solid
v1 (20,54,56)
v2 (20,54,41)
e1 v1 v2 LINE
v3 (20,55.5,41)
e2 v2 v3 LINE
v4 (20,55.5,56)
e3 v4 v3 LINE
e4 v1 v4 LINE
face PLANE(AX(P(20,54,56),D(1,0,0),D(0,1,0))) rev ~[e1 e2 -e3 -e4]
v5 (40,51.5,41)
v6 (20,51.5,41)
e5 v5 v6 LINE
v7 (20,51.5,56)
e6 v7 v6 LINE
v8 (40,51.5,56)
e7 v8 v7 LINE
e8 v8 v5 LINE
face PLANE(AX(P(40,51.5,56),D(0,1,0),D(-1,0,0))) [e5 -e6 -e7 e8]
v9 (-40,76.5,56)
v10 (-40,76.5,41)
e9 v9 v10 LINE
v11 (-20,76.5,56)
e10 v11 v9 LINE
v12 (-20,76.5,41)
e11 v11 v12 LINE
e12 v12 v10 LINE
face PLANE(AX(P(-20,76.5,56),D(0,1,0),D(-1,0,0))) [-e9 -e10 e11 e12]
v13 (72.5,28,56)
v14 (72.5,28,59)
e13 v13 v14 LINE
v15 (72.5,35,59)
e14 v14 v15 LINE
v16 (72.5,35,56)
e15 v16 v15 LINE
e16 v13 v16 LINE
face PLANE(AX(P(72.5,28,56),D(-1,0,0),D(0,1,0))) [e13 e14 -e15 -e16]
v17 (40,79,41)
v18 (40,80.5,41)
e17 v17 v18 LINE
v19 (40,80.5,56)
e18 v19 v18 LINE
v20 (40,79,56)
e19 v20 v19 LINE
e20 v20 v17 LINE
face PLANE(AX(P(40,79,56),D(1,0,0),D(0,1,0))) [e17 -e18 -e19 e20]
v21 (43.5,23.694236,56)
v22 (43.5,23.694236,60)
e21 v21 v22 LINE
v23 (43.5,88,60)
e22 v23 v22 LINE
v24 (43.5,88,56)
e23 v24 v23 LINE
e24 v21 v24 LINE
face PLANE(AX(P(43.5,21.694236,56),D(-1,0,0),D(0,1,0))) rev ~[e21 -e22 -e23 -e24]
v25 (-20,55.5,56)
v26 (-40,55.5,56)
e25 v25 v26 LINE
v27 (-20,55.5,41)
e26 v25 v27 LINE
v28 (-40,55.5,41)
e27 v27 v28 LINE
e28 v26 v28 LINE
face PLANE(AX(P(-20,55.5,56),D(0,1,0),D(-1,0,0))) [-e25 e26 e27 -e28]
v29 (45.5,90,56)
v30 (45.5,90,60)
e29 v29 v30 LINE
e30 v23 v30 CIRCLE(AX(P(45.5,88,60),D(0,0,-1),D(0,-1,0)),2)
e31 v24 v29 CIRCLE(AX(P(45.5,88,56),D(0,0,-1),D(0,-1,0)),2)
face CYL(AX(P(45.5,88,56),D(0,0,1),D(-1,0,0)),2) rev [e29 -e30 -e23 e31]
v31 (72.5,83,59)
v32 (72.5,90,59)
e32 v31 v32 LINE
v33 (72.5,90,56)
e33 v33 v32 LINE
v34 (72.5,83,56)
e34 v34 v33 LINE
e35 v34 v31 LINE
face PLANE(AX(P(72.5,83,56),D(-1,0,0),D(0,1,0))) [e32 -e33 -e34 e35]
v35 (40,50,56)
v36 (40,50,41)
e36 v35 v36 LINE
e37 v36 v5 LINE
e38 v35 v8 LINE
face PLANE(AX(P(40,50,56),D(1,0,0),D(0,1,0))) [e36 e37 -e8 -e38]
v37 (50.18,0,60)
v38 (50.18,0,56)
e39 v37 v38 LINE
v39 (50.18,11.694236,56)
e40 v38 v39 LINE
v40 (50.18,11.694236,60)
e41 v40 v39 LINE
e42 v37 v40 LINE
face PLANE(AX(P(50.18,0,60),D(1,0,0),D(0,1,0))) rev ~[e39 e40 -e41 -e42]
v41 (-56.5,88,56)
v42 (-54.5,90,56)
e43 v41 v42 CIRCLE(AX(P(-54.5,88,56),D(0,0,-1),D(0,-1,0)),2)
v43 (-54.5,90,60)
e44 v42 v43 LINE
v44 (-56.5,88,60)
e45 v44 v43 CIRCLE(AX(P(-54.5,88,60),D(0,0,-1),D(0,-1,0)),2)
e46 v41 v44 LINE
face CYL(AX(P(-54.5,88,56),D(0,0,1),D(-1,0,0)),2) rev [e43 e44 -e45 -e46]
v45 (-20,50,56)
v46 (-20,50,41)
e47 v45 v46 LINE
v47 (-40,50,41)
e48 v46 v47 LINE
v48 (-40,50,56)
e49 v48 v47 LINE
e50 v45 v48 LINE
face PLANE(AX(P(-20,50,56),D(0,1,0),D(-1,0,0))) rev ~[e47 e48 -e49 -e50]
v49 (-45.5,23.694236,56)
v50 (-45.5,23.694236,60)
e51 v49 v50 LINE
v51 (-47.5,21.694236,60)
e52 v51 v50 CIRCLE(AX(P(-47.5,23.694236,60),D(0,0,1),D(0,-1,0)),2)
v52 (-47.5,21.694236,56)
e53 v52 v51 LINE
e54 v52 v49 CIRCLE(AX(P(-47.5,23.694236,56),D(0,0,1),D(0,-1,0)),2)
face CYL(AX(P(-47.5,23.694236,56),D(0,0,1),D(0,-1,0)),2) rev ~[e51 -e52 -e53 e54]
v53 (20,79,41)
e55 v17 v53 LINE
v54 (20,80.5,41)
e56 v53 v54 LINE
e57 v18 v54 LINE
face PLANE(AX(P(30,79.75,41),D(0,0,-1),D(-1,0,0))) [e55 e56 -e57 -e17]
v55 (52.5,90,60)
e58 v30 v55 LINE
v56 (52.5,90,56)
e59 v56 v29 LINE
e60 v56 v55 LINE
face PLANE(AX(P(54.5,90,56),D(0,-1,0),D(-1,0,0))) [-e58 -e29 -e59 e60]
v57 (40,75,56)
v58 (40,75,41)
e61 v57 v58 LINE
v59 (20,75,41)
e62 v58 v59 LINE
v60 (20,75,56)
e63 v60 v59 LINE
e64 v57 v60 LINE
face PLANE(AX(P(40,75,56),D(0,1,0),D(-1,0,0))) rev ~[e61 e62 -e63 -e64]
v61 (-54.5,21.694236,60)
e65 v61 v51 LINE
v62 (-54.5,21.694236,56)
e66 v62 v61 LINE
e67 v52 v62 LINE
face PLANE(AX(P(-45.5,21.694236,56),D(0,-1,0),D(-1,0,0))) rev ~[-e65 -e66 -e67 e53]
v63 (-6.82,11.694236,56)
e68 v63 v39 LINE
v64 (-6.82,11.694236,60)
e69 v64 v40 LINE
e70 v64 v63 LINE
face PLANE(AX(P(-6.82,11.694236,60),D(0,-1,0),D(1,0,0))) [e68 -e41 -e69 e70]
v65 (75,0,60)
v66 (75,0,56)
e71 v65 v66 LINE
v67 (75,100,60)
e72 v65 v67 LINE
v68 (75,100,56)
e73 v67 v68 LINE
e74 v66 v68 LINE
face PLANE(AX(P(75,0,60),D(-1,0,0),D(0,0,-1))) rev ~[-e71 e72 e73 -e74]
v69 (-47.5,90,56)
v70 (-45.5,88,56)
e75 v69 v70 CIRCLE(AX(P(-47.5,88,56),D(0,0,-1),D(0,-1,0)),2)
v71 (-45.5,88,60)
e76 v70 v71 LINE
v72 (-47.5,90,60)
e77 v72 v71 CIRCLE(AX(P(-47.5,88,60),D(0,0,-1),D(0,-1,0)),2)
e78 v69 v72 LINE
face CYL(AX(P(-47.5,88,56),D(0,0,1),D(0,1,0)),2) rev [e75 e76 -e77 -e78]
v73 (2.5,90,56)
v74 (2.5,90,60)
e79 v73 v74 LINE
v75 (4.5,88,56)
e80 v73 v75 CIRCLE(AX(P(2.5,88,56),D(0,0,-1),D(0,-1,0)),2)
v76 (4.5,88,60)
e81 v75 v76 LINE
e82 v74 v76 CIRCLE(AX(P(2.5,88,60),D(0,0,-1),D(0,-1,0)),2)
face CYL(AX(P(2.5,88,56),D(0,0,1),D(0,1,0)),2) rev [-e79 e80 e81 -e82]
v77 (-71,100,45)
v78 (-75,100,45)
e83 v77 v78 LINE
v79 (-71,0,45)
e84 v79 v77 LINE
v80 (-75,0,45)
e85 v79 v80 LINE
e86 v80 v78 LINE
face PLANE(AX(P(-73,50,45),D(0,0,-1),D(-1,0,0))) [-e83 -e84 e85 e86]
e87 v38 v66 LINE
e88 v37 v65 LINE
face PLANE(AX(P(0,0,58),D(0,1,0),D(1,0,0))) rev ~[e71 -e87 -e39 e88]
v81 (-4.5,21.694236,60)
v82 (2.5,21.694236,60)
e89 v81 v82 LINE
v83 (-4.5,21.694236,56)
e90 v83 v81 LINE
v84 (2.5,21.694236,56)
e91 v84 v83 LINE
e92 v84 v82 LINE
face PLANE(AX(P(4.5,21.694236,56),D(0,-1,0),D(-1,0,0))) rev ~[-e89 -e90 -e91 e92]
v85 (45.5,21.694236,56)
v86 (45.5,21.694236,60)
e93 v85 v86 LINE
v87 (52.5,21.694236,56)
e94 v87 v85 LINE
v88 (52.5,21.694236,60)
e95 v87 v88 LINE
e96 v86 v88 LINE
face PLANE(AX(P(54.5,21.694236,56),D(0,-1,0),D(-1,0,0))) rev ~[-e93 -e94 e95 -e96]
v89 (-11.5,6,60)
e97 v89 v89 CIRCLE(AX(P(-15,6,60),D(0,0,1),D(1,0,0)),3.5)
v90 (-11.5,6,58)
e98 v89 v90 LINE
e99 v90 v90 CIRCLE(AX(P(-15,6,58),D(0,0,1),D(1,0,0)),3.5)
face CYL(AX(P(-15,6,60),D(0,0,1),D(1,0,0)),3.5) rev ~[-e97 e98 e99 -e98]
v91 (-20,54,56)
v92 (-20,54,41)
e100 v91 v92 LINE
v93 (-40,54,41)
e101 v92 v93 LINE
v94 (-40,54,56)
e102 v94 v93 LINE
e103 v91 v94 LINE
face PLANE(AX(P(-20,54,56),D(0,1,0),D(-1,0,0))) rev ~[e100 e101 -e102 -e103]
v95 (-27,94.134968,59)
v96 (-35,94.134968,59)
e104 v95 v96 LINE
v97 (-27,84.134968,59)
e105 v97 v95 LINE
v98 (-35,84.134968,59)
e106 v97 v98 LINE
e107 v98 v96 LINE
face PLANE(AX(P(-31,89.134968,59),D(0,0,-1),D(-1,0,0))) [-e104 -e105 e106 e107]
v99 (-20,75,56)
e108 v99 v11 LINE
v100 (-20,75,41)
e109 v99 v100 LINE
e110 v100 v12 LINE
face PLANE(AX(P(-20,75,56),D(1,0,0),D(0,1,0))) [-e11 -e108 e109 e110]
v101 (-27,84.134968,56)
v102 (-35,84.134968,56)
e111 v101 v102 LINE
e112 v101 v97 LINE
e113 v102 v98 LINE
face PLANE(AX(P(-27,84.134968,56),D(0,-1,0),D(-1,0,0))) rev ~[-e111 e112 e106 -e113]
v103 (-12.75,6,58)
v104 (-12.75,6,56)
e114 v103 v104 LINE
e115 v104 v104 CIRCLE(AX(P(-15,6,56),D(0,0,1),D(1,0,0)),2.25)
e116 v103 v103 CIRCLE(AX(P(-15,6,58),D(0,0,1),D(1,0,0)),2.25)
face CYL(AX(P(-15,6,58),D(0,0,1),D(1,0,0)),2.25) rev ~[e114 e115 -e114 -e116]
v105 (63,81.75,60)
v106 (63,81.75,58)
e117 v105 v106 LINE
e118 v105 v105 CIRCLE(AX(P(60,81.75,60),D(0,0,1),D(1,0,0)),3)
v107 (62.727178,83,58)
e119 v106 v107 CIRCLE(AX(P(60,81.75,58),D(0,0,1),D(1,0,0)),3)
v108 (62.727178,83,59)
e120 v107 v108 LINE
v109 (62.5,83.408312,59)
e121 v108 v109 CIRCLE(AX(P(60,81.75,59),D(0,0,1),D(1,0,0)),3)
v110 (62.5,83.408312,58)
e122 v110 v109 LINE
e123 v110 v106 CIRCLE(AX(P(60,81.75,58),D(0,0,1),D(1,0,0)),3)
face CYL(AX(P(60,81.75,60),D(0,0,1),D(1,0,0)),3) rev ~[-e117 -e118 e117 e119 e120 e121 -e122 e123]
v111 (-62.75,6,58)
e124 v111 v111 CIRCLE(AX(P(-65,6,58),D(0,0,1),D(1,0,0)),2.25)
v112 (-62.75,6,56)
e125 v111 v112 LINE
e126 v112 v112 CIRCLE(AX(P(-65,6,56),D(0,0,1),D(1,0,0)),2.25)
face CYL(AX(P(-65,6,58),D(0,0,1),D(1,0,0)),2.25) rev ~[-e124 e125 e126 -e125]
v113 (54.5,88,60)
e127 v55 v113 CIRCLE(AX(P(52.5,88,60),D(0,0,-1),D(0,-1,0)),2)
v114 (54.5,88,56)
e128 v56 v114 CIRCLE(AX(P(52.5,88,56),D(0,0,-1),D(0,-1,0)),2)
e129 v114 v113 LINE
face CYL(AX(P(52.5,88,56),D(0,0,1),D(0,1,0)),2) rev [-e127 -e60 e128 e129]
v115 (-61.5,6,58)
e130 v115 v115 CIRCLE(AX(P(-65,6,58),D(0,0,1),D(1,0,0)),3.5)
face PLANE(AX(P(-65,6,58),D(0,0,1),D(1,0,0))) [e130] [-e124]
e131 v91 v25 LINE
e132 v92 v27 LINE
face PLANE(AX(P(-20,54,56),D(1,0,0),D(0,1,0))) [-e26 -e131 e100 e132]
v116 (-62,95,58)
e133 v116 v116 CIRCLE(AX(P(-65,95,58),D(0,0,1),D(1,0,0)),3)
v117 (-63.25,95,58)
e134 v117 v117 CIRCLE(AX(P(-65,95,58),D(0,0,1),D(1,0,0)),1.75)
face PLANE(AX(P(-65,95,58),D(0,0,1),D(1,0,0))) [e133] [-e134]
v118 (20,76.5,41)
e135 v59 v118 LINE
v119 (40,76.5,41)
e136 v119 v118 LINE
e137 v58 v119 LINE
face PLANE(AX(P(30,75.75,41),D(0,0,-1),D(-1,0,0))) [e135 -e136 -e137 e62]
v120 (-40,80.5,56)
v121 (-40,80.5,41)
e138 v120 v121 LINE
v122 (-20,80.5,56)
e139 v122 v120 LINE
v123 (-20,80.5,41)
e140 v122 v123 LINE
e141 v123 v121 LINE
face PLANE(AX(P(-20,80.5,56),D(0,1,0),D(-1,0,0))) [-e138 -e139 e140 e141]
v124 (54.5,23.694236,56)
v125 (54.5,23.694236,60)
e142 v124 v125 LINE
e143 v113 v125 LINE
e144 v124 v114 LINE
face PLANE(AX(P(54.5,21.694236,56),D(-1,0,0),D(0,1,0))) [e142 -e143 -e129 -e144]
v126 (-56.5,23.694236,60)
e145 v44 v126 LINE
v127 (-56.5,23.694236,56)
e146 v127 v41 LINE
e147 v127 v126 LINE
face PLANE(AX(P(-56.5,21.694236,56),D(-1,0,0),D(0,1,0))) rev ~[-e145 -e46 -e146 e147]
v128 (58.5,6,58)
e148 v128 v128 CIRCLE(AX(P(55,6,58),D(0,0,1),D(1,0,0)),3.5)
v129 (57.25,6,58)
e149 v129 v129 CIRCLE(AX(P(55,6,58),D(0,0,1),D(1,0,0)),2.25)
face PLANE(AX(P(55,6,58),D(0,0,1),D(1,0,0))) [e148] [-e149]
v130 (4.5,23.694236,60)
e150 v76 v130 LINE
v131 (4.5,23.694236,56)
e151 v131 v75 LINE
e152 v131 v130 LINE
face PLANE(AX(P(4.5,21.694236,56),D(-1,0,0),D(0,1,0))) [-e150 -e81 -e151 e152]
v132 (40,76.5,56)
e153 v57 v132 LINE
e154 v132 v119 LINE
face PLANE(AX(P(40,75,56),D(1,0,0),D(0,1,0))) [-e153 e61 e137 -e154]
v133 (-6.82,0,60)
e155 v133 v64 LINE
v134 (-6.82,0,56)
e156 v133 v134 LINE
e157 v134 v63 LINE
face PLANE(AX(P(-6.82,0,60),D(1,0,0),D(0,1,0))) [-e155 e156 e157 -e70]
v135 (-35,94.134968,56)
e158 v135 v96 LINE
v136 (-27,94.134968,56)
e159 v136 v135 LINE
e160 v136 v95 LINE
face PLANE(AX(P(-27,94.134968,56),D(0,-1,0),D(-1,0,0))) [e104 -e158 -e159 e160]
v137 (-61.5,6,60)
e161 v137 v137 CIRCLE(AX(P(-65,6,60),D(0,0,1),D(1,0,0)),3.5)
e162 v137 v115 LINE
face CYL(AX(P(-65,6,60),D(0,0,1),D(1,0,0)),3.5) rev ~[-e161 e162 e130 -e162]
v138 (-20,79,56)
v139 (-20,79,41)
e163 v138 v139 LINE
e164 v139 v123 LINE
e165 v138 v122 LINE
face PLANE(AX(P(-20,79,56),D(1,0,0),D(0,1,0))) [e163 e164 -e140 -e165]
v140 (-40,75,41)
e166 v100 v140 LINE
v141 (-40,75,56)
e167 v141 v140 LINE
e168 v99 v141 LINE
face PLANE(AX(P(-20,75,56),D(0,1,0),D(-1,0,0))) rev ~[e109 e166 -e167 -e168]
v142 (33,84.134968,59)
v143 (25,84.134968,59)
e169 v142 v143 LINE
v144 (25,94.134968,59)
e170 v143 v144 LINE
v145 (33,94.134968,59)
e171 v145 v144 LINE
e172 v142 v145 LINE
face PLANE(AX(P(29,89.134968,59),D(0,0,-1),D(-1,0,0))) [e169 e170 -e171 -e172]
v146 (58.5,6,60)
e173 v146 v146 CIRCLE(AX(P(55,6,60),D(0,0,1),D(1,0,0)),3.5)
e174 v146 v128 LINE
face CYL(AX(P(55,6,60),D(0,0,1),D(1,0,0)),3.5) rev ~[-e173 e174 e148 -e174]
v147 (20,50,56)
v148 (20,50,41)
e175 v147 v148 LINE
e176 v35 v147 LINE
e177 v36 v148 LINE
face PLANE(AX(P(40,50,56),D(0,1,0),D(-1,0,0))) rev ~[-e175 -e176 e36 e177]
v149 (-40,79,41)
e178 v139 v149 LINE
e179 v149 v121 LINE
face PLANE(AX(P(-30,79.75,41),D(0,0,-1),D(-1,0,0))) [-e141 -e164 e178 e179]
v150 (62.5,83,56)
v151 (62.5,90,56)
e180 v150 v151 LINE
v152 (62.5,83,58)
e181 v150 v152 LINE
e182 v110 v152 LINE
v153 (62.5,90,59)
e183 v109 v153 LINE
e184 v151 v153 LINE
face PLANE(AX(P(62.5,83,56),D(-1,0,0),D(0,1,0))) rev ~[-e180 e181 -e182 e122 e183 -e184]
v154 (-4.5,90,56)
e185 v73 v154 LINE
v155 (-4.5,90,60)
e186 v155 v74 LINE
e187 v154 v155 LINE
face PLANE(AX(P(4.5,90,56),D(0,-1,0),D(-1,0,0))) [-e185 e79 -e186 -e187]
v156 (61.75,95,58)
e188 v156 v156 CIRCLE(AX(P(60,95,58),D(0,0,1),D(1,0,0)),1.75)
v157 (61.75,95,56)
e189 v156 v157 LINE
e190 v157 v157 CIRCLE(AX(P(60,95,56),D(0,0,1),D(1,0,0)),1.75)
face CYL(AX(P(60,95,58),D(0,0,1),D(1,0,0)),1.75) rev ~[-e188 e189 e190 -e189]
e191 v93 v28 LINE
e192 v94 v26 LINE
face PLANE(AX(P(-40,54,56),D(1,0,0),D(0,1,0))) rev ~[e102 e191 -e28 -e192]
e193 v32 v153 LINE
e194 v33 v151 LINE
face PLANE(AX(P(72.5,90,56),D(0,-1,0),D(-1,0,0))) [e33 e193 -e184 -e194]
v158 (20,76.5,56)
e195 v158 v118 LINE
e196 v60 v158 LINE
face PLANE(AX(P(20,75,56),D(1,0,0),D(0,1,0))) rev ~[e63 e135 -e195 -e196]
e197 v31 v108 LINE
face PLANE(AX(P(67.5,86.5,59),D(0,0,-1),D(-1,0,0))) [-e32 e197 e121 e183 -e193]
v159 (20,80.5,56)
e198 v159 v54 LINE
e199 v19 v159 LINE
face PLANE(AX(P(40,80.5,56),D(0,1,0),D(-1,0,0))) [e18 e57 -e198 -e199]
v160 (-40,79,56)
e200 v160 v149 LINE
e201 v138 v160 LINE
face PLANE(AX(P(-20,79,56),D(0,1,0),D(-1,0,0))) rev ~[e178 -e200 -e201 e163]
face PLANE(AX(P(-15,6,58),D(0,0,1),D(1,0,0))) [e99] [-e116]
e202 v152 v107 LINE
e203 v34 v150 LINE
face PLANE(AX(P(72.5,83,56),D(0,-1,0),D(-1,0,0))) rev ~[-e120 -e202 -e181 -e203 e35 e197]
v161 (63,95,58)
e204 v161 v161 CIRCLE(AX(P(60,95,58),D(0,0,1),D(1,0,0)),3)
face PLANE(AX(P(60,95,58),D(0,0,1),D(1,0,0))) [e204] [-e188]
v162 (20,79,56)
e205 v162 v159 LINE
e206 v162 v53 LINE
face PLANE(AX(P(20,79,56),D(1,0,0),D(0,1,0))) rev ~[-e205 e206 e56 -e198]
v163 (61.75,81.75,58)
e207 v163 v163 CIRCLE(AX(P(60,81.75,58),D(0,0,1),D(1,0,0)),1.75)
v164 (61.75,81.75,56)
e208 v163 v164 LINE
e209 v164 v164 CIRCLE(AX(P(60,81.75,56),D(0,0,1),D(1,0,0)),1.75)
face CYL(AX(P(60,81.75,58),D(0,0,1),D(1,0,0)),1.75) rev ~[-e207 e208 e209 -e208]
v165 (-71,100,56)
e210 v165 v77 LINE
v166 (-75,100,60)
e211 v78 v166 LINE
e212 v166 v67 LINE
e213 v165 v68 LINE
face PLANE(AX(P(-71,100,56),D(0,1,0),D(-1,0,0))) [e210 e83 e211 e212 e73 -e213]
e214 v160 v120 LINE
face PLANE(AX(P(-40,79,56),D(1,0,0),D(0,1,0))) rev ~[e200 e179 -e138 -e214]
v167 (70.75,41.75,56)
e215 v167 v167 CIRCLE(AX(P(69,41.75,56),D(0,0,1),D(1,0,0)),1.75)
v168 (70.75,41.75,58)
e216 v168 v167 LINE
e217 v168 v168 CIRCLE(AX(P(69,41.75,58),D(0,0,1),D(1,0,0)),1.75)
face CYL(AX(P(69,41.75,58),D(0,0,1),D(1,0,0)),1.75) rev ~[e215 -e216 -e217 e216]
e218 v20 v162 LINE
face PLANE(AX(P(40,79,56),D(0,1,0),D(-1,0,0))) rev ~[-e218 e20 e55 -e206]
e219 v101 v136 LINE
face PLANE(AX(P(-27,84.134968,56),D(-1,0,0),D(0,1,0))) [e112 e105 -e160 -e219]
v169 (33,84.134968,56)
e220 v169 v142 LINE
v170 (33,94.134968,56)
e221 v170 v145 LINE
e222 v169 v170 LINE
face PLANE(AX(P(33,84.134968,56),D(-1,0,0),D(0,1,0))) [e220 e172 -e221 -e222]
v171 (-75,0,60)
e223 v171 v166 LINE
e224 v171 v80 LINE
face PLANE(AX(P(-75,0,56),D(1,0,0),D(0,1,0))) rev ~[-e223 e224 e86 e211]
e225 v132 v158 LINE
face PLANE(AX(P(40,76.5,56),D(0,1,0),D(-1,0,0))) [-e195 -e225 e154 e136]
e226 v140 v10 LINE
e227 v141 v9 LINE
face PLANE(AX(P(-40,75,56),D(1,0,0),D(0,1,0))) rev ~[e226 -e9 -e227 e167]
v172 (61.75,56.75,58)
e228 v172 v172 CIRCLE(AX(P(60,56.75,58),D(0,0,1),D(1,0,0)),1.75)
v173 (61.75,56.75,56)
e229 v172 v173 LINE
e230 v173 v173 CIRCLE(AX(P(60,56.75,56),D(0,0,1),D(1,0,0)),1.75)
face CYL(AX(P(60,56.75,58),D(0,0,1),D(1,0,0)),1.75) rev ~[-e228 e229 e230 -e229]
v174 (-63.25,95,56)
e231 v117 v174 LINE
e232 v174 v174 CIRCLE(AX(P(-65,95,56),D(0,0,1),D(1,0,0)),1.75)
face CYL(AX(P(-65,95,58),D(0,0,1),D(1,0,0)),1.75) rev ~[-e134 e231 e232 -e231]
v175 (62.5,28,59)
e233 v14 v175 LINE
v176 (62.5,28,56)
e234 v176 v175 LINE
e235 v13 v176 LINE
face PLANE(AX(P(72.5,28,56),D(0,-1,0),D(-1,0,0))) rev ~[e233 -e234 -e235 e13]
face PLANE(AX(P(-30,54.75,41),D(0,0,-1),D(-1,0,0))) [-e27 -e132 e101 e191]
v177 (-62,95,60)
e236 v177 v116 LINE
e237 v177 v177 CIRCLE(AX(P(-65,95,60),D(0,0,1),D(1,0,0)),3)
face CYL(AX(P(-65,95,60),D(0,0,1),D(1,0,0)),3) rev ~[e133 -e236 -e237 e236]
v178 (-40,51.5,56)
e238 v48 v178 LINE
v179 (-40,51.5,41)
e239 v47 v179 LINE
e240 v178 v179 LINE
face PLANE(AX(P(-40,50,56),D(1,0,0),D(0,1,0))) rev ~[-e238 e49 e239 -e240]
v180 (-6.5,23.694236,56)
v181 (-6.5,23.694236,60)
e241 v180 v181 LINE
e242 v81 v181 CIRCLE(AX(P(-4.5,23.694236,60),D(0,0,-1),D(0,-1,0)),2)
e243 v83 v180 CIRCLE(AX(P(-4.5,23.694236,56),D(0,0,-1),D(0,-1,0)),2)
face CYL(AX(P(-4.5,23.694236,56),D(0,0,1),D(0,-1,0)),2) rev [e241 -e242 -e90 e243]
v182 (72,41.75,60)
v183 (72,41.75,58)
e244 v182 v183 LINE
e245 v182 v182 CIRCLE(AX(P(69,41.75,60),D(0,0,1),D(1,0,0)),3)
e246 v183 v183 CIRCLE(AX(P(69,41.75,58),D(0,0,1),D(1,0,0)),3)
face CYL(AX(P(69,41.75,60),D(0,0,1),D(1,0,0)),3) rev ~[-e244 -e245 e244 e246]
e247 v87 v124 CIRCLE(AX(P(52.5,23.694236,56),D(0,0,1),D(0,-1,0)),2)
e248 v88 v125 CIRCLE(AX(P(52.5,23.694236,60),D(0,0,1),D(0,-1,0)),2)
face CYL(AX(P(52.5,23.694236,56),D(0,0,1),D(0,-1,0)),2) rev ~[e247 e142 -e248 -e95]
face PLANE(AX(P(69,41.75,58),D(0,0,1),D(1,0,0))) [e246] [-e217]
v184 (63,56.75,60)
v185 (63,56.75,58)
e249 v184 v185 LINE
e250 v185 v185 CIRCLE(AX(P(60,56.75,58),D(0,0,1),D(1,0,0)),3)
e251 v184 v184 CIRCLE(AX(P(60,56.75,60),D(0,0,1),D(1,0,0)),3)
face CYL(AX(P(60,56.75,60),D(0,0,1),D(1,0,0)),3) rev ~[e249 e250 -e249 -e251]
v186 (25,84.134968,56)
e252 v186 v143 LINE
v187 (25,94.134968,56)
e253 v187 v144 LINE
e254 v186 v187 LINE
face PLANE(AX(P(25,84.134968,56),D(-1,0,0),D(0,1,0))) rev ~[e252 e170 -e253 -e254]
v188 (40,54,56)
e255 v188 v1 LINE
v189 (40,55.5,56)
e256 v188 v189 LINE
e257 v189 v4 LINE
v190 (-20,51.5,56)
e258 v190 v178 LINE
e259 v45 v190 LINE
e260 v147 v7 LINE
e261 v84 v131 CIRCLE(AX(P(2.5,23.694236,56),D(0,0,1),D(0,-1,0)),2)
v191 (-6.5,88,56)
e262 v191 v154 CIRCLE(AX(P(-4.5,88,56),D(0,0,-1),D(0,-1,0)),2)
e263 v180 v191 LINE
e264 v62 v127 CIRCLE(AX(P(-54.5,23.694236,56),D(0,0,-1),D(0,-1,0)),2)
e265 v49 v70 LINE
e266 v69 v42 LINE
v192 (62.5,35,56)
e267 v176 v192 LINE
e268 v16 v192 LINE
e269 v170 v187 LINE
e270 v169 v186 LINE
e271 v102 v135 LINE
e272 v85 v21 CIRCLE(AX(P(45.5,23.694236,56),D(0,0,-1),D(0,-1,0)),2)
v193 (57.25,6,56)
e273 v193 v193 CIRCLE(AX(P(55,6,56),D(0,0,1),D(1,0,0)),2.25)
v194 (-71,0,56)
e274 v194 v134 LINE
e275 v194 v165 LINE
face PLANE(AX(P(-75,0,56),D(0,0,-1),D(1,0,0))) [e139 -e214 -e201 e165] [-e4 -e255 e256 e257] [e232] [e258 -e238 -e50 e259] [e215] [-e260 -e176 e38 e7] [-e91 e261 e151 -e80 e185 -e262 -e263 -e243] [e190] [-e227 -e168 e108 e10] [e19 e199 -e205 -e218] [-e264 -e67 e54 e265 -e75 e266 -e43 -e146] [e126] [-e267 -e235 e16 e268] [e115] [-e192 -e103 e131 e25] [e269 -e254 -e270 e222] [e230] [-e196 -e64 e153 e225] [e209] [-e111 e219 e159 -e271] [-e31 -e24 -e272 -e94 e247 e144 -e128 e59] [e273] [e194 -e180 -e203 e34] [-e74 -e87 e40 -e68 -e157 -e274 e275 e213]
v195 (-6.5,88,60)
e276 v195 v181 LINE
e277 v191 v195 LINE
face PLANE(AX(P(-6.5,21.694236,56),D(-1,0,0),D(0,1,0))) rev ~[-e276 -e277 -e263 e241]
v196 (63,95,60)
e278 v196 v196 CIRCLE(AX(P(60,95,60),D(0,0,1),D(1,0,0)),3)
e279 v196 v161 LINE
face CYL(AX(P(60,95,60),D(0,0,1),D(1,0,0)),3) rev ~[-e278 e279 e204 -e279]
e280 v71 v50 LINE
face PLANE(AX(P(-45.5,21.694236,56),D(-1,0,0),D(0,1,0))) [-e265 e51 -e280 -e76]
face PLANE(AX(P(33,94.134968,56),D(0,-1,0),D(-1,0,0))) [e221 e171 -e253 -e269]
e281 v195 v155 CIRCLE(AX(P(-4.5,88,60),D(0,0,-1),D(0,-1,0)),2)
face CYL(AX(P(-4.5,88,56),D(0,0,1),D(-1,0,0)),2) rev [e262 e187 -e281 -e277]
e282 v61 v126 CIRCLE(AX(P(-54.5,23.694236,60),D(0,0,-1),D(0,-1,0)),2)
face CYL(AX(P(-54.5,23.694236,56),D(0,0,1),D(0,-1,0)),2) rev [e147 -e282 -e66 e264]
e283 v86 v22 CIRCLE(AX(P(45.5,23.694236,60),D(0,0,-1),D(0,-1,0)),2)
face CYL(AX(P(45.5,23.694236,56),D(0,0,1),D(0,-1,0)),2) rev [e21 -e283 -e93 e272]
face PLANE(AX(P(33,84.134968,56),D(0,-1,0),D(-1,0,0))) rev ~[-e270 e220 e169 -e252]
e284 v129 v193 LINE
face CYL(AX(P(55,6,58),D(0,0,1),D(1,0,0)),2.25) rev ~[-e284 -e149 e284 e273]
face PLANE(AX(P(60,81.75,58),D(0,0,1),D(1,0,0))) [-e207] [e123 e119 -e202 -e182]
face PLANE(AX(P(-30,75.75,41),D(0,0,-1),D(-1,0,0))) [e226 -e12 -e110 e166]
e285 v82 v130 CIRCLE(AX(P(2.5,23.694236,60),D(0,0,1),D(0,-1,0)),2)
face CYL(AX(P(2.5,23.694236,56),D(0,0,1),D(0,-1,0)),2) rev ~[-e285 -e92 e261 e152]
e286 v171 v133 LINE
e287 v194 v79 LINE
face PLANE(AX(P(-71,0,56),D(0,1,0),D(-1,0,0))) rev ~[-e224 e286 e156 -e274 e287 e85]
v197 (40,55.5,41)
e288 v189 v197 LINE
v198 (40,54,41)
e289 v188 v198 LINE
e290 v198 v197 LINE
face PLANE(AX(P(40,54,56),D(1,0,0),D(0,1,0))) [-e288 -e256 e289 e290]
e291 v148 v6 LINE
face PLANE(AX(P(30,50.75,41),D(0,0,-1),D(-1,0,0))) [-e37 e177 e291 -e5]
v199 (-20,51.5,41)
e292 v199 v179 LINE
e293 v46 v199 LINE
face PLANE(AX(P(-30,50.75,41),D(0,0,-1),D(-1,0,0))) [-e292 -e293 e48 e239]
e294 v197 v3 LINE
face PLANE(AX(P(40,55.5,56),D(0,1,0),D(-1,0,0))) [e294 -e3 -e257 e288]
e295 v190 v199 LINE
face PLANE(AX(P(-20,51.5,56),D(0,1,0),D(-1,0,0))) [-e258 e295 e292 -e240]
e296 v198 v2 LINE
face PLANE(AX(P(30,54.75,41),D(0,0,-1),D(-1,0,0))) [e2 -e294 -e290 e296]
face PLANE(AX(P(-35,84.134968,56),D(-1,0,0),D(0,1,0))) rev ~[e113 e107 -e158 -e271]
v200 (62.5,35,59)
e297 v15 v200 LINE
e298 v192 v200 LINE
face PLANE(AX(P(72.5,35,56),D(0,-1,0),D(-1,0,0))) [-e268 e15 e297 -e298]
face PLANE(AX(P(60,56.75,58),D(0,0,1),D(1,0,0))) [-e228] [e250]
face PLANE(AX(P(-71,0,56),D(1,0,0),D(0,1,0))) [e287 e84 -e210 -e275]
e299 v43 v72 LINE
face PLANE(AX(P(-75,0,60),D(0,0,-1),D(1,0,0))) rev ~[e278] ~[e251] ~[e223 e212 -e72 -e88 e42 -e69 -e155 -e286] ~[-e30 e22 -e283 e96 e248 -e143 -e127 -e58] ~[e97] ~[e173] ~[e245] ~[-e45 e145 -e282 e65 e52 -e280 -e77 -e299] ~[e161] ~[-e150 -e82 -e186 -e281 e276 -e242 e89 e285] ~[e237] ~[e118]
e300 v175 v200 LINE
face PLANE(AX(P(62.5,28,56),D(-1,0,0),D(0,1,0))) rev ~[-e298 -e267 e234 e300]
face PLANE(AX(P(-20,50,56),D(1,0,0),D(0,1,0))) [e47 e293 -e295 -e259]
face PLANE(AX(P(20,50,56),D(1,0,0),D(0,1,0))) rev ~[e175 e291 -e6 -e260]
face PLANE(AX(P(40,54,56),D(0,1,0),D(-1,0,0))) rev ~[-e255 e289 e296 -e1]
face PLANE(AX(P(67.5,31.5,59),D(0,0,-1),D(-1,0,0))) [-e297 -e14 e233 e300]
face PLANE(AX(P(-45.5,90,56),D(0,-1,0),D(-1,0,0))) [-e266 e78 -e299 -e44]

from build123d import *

# Parameters (mm, degrees)
SKETCH1_W                 = 150
SKETCH1_H                 = 4
BOSS_EXTRUDE1_DEPTH       = 100
CUT_EXTRUDE1_REACH        = 127.064
SKETCH7_W                 = 57
SKETCH7_H                 = 11.694235649
SKETCH9_W                 = 4
SKETCH9_H                 = 100
BOSS_EXTRUDE4_DEPTH       = 11
SKETCH10_W                = 20
SKETCH10_H                = 1.5
BOSS_EXTRUDE5_DEPTH       = 15
LPATTERN1_COUNT           = 2
LPATTERN1_PITCH           = 60
LPATTERN2_COUNT           = 2
LPATTERN2_PITCH           = 25
LPATTERN2_COPY_1_SKETCH_W = 20
LPATTERN2_COPY_1_SKETCH_H = 1.5
LPATTERN2_COPY_1_DEPTH    = 15
LPATTERN3_COUNT           = 2
LPATTERN3_PITCH           = 4
LPATTERN3_COPY_1_SKETCH_W = 20
LPATTERN3_COPY_1_SKETCH_H = 1.5
LPATTERN3_COPY_1_DEPTH    = 15
LPATTERN3_COPY_2_SKETCH_W = 20
LPATTERN3_COPY_2_SKETCH_H = 1.5
LPATTERN3_COPY_2_DEPTH    = 15
LPATTERN3_COPY_3_SKETCH_W = 20
LPATTERN3_COPY_3_SKETCH_H = 1.5
LPATTERN3_COPY_3_DEPTH    = 15
SKETCH12_R                = 3.5
CUT_EXTRUDE2_DEPTH        = 2
CUT_EXTRUDE3_REACH        = 128.151
SKETCH13_R                = 2.25
LPATTERN4_COUNT           = 2
LPATTERN4_PITCH           = 50
SKETCH15_R                = 3
CUT_EXTRUDE4_DEPTH        = 2
CUT_EXTRUDE5_REACH        = 219.319
SKETCH17_R                = 1.75
LPATTERN5_COUNT           = 2
LPATTERN5_PITCH           = 25
SKETCH18_W                = 10
SKETCH18_H                = 7
CUT_EXTRUDE6_DEPTH        = 3
LPATTERN6_COUNT           = 2
LPATTERN6_PITCH           = 55
CUT_EXTRUDE7_REACH        = 127.897
SKETCH19_W                = 11
SKETCH19_H                = 68.305764351
FILLET1_R                 = 2
LPATTERN7_COUNT           = 3
LPATTERN7_PITCH           = 50
FILLET1_OF_LPATTERN7_R    = 2
LPATTERN8_COUNT           = 2
LPATTERN8_PITCH           = 120
SKETCH20_W                = 8
SKETCH20_H                = 10
CUT_EXTRUDE8_DEPTH        = 3
LPATTERN9_COUNT           = 2
LPATTERN9_PITCH           = 60
SKETCH22_R                = 3
CUT_EXTRUDE9_DEPTH        = 2
CUT_EXTRUDE10_REACH       = 217.691
SKETCH24_R                = 1.75
SKETCH26_R                = 3
CUT_EXTRUDE11_DEPTH       = 2
CUT_EXTRUDE12_REACH       = 123.185
SKETCH28_R                = 1.75
LPATTERN11_COUNT          = 2
LPATTERN11_PITCH          = 125


with BuildPart() as part:
    # Sketch1 → Boss-Extrude1 (new body)
    with BuildSketch(Plane(origin=(0, 0, 0), x_dir=(1, 0, 0), z_dir=(0, 1, 0))):
        with Locations((0, -58)):
            Rectangle(SKETCH1_W, SKETCH1_H)
    extrude(amount=BOSS_EXTRUDE1_DEPTH)

    # Sketch7 → Cut-Extrude1 (cut, up to next)
    with BuildSketch(Plane.XY.offset(60), mode=Mode.PRIVATE) as cut_extrude1_sk1:
        with Locations((21.68, 5.847117825)):
            Rectangle(SKETCH7_W, SKETCH7_H)
    cut_extrude1_tool1 = extrude(cut_extrude1_sk1.sketch, amount=-CUT_EXTRUDE1_REACH, mode=Mode.PRIVATE) & part.part
    add(cut_extrude1_tool1.solids().sort_by_distance((21.68, 5.847118, 60))[0], mode=Mode.SUBTRACT)

    # Sketch9 → Boss-Extrude4 (add)
    with BuildSketch(Plane(origin=(0, 0, 56), x_dir=(-1, 0, 0), z_dir=(0, 0, -1))):
        with Locations((73, 50)):
            Rectangle(SKETCH9_W, SKETCH9_H)
    extrude(amount=BOSS_EXTRUDE4_DEPTH)

    # Sketch10 → Boss-Extrude5 (add)
    with BuildSketch(Plane(origin=(0, 0, 56), x_dir=(-1, 0, 0), z_dir=(0, 0, -1))):
        with Locations((-30, 50.75)):
            Rectangle(SKETCH10_W, SKETCH10_H)
    boss_extrude5 = extrude(amount=BOSS_EXTRUDE5_DEPTH)

    # LPattern1: Boss-Extrude5 ×2
    with Locations(*[(-i * LPATTERN1_PITCH, 0, 0) for i in range(1, LPATTERN1_COUNT)]):
        add(boss_extrude5)

    # LPattern2: Boss-Extrude5 ×2
    with Locations(*[(0, i * LPATTERN2_PITCH, 0) for i in range(1, LPATTERN2_COUNT)]):
        add(boss_extrude5)

    # LPattern2 copy 1 sketch → LPattern2 copy 1 (add)
    with BuildSketch(Plane(origin=(-60, 25, 56), x_dir=(-1, 0, 0), z_dir=(0, 0, -1))):
        with Locations((-30, 50.75)):
            Rectangle(LPATTERN2_COPY_1_SKETCH_W, LPATTERN2_COPY_1_SKETCH_H)
    extrude(amount=LPATTERN2_COPY_1_DEPTH)

    # LPattern3: Boss-Extrude5 ×2
    with Locations(*[(0, i * LPATTERN3_PITCH, 0) for i in range(1, LPATTERN3_COUNT)]):
        add(boss_extrude5)

    # LPattern3 copy 1 sketch → LPattern3 copy 1 (add)
    with BuildSketch(Plane(origin=(-60, 4, 56), x_dir=(-1, 0, 0), z_dir=(0, 0, -1))):
        with Locations((-30, 50.75)):
            Rectangle(LPATTERN3_COPY_1_SKETCH_W, LPATTERN3_COPY_1_SKETCH_H)
    extrude(amount=LPATTERN3_COPY_1_DEPTH)

    # LPattern3 copy 2 sketch → LPattern3 copy 2 (add)
    with BuildSketch(Plane(origin=(0, 29, 56), x_dir=(-1, 0, 0), z_dir=(0, 0, -1))):
        with Locations((-30, 50.75)):
            Rectangle(LPATTERN3_COPY_2_SKETCH_W, LPATTERN3_COPY_2_SKETCH_H)
    extrude(amount=LPATTERN3_COPY_2_DEPTH)

    # LPattern3 copy 3 sketch → LPattern3 copy 3 (add)
    with BuildSketch(Plane(origin=(-60, 29, 56), x_dir=(-1, 0, 0), z_dir=(0, 0, -1))):
        with Locations((-30, 50.75)):
            Rectangle(LPATTERN3_COPY_3_SKETCH_W, LPATTERN3_COPY_3_SKETCH_H)
    extrude(amount=LPATTERN3_COPY_3_DEPTH)

    # Sketch12 → Cut-Extrude2 (cut)
    with BuildSketch(Plane.XY.offset(60)):
        with Locations((-65, 6)):
            Circle(SKETCH12_R)
    cut_extrude2 = extrude(amount=-CUT_EXTRUDE2_DEPTH, mode=Mode.SUBTRACT)

    # Sketch13 → Cut-Extrude3 (cut, up to next)
    with BuildSketch(Plane.XY.offset(58), mode=Mode.PRIVATE) as cut_extrude3_sk1:
        with Locations((-65, 6)):
            Circle(SKETCH13_R)
    cut_extrude3_tool1 = extrude(cut_extrude3_sk1.sketch, amount=-CUT_EXTRUDE3_REACH, mode=Mode.PRIVATE) & part.part
    cut_extrude3 = cut_extrude3_tool1.solids().sort_by_distance((-65, 6, 58))[0]
    add(cut_extrude3, mode=Mode.SUBTRACT)

    # LPattern4: Cut-Extrude2, Cut-Extrude3 ×2
    with Locations(*[(i * LPATTERN4_PITCH, 0, 0) for i in range(1, LPATTERN4_COUNT)]):
        add(cut_extrude2, mode=Mode.SUBTRACT)
        add(cut_extrude3, mode=Mode.SUBTRACT)

    # Sketch15 → Cut-Extrude4 (cut)
    with BuildSketch(Plane(origin=(125.77806455, 81.403570161, 60), x_dir=(1, 0, 0), z_dir=(0, 0, 1))):
        with Locations((-65.77806455, 0.346429839)):
            Circle(SKETCH15_R)
    cut_extrude4 = extrude(amount=-CUT_EXTRUDE4_DEPTH, mode=Mode.SUBTRACT)

    # Sketch17 → Cut-Extrude5 (cut, up to next)
    with BuildSketch(Plane(origin=(125.77806455, 81.403570161, 58), x_dir=(1, 0, 0), z_dir=(0, 0, 1)), mode=Mode.PRIVATE) as cut_extrude5_sk1:
        with Locations((-65.77806455, 0.346429839)):
            Circle(SKETCH17_R)
    cut_extrude5_tool1 = extrude(cut_extrude5_sk1.sketch, amount=-CUT_EXTRUDE5_REACH, mode=Mode.PRIVATE) & part.part
    cut_extrude5 = cut_extrude5_tool1.solids().sort_by_distance((60, 81.75, 58))[0]
    add(cut_extrude5, mode=Mode.SUBTRACT)

    # LPattern5: Cut-Extrude4, Cut-Extrude5 ×2
    with Locations(*[(0, -i * LPATTERN5_PITCH, 0) for i in range(1, LPATTERN5_COUNT)]):
        add(cut_extrude4, mode=Mode.SUBTRACT)
        add(cut_extrude5, mode=Mode.SUBTRACT)

    # Sketch18 → Cut-Extrude6 (cut)
    with BuildSketch(Plane(origin=(0, 0, 56), x_dir=(-1, 0, 0), z_dir=(0, 0, -1))):
        with Locations((-67.5, 86.5)):
            Rectangle(SKETCH18_W, SKETCH18_H)
    cut_extrude6 = extrude(amount=-CUT_EXTRUDE6_DEPTH, mode=Mode.SUBTRACT)

    # LPattern6: Cut-Extrude6 ×2
    with Locations(*[(0, -i * LPATTERN6_PITCH, 0) for i in range(1, LPATTERN6_COUNT)]):
        add(cut_extrude6, mode=Mode.SUBTRACT)

    # Sketch19 → Cut-Extrude7 (cut, up to next)
    with BuildSketch(Plane(origin=(0, 0, 56), x_dir=(-1, 0, 0), z_dir=(0, 0, -1)), mode=Mode.PRIVATE) as cut_extrude7_sk1:
        with Locations((-49, 55.847117825)):
            Rectangle(SKETCH19_W, SKETCH19_H)
    cut_extrude7_tool1 = extrude(cut_extrude7_sk1.sketch, amount=-CUT_EXTRUDE7_REACH, mode=Mode.PRIVATE) & part.part
    cut_extrude7 = cut_extrude7_tool1.solids().sort_by_distance((49, 55.847118, 56))[0]
    add(cut_extrude7, mode=Mode.SUBTRACT)

    # Fillet1
    fillet1_edges = [part.edges().sort_by_distance(p)[0] for p in [
        (54.5, 21.694235649, 58),
        (54.5, 90, 58),
        (43.5, 90, 58),
        (43.5, 21.694235649, 58),
    ]]
    fillet(fillet1_edges, radius=FILLET1_R)

    # LPattern7: Cut-Extrude7 ×3
    with Locations(*[(-i * LPATTERN7_PITCH, 0, 0) for i in range(1, LPATTERN7_COUNT)]):
        add(cut_extrude7, mode=Mode.SUBTRACT)

    # Fillet1 of LPattern7
    fillet1_of_lpattern7_edges = [part.edges().sort_by_distance(p)[0] for p in [
        (4.5, 21.694235649, 58),
        (4.5, 90, 58),
        (-6.5, 90, 58),
        (-6.5, 21.694235649, 58),
        (-45.5, 21.694235649, 58),
        (-45.5, 90, 58),
        (-56.5, 90, 58),
        (-56.5, 21.694235649, 58),
    ]]
    fillet(fillet1_of_lpattern7_edges, radius=FILLET1_OF_LPATTERN7_R)

    # LPattern8: Cut-Extrude2, Cut-Extrude3 ×2
    with Locations(*[(i * LPATTERN8_PITCH, 0, 0) for i in range(1, LPATTERN8_COUNT)]):
        add(cut_extrude2, mode=Mode.SUBTRACT)
        add(cut_extrude3, mode=Mode.SUBTRACT)

    # Sketch20 → Cut-Extrude8 (cut)
    with BuildSketch(Plane(origin=(0, 0, 56), x_dir=(-1, 0, 0), z_dir=(0, 0, -1))):
        with Locations((-29, 89.134967696)):
            Rectangle(SKETCH20_W, SKETCH20_H)
    cut_extrude8 = extrude(amount=-CUT_EXTRUDE8_DEPTH, mode=Mode.SUBTRACT)

    # LPattern9: Cut-Extrude8 ×2
    with Locations(*[(-i * LPATTERN9_PITCH, 0, 0) for i in range(1, LPATTERN9_COUNT)]):
        add(cut_extrude8, mode=Mode.SUBTRACT)

    # Sketch22 → Cut-Extrude9 (cut)
    with BuildSketch(Plane(origin=(131.167270466, 38.938204498, 60), x_dir=(1, 0, 0), z_dir=(0, 0, 1))):
        with Locations((-62.167270466, 2.811795502)):
            Circle(SKETCH22_R)
    extrude(amount=-CUT_EXTRUDE9_DEPTH, mode=Mode.SUBTRACT)

    # Sketch24 → Cut-Extrude10 (cut, up to next)
    with BuildSketch(Plane(origin=(131.167270466, 38.938204498, 58), x_dir=(1, 0, 0), z_dir=(0, 0, 1)), mode=Mode.PRIVATE) as cut_extrude10_sk1:
        with Locations((-62.167270466, 2.811795502)):
            Circle(SKETCH24_R)
    cut_extrude10_tool1 = extrude(cut_extrude10_sk1.sketch, amount=-CUT_EXTRUDE10_REACH, mode=Mode.PRIVATE) & part.part
    add(cut_extrude10_tool1.solids().sort_by_distance((69, 41.75, 58))[0], mode=Mode.SUBTRACT)

    # Sketch26 → Cut-Extrude11 (cut)
    with BuildSketch(Plane(origin=(-1.555186457, 92.391705768, 60), x_dir=(1, 0, 0), z_dir=(0, 0, 1))):
        with Locations((-63.444813543, 2.608294232)):
            Circle(SKETCH26_R)
    cut_extrude11 = extrude(amount=-CUT_EXTRUDE11_DEPTH, mode=Mode.SUBTRACT)

    # Sketch28 → Cut-Extrude12 (cut, up to next)
    with BuildSketch(Plane(origin=(-1.555186457, 92.391705768, 58), x_dir=(1, 0, 0), z_dir=(0, 0, 1)), mode=Mode.PRIVATE) as cut_extrude12_sk1:
        with Locations((-63.444813543, 2.608294232)):
            Circle(SKETCH28_R)
    cut_extrude12_tool1 = extrude(cut_extrude12_sk1.sketch, amount=-CUT_EXTRUDE12_REACH, mode=Mode.PRIVATE) & part.part
    cut_extrude12 = cut_extrude12_tool1.solids().sort_by_distance((-65, 95, 58))[0]
    add(cut_extrude12, mode=Mode.SUBTRACT)

    # LPattern11: Cut-Extrude11, Cut-Extrude12 ×2
    with Locations(*[(i * LPATTERN11_PITCH, 0, 0) for i in range(1, LPATTERN11_COUNT)]):
        add(cut_extrude11, mode=Mode.SUBTRACT)
        add(cut_extrude12, mode=Mode.SUBTRACT)


solid = part.part
